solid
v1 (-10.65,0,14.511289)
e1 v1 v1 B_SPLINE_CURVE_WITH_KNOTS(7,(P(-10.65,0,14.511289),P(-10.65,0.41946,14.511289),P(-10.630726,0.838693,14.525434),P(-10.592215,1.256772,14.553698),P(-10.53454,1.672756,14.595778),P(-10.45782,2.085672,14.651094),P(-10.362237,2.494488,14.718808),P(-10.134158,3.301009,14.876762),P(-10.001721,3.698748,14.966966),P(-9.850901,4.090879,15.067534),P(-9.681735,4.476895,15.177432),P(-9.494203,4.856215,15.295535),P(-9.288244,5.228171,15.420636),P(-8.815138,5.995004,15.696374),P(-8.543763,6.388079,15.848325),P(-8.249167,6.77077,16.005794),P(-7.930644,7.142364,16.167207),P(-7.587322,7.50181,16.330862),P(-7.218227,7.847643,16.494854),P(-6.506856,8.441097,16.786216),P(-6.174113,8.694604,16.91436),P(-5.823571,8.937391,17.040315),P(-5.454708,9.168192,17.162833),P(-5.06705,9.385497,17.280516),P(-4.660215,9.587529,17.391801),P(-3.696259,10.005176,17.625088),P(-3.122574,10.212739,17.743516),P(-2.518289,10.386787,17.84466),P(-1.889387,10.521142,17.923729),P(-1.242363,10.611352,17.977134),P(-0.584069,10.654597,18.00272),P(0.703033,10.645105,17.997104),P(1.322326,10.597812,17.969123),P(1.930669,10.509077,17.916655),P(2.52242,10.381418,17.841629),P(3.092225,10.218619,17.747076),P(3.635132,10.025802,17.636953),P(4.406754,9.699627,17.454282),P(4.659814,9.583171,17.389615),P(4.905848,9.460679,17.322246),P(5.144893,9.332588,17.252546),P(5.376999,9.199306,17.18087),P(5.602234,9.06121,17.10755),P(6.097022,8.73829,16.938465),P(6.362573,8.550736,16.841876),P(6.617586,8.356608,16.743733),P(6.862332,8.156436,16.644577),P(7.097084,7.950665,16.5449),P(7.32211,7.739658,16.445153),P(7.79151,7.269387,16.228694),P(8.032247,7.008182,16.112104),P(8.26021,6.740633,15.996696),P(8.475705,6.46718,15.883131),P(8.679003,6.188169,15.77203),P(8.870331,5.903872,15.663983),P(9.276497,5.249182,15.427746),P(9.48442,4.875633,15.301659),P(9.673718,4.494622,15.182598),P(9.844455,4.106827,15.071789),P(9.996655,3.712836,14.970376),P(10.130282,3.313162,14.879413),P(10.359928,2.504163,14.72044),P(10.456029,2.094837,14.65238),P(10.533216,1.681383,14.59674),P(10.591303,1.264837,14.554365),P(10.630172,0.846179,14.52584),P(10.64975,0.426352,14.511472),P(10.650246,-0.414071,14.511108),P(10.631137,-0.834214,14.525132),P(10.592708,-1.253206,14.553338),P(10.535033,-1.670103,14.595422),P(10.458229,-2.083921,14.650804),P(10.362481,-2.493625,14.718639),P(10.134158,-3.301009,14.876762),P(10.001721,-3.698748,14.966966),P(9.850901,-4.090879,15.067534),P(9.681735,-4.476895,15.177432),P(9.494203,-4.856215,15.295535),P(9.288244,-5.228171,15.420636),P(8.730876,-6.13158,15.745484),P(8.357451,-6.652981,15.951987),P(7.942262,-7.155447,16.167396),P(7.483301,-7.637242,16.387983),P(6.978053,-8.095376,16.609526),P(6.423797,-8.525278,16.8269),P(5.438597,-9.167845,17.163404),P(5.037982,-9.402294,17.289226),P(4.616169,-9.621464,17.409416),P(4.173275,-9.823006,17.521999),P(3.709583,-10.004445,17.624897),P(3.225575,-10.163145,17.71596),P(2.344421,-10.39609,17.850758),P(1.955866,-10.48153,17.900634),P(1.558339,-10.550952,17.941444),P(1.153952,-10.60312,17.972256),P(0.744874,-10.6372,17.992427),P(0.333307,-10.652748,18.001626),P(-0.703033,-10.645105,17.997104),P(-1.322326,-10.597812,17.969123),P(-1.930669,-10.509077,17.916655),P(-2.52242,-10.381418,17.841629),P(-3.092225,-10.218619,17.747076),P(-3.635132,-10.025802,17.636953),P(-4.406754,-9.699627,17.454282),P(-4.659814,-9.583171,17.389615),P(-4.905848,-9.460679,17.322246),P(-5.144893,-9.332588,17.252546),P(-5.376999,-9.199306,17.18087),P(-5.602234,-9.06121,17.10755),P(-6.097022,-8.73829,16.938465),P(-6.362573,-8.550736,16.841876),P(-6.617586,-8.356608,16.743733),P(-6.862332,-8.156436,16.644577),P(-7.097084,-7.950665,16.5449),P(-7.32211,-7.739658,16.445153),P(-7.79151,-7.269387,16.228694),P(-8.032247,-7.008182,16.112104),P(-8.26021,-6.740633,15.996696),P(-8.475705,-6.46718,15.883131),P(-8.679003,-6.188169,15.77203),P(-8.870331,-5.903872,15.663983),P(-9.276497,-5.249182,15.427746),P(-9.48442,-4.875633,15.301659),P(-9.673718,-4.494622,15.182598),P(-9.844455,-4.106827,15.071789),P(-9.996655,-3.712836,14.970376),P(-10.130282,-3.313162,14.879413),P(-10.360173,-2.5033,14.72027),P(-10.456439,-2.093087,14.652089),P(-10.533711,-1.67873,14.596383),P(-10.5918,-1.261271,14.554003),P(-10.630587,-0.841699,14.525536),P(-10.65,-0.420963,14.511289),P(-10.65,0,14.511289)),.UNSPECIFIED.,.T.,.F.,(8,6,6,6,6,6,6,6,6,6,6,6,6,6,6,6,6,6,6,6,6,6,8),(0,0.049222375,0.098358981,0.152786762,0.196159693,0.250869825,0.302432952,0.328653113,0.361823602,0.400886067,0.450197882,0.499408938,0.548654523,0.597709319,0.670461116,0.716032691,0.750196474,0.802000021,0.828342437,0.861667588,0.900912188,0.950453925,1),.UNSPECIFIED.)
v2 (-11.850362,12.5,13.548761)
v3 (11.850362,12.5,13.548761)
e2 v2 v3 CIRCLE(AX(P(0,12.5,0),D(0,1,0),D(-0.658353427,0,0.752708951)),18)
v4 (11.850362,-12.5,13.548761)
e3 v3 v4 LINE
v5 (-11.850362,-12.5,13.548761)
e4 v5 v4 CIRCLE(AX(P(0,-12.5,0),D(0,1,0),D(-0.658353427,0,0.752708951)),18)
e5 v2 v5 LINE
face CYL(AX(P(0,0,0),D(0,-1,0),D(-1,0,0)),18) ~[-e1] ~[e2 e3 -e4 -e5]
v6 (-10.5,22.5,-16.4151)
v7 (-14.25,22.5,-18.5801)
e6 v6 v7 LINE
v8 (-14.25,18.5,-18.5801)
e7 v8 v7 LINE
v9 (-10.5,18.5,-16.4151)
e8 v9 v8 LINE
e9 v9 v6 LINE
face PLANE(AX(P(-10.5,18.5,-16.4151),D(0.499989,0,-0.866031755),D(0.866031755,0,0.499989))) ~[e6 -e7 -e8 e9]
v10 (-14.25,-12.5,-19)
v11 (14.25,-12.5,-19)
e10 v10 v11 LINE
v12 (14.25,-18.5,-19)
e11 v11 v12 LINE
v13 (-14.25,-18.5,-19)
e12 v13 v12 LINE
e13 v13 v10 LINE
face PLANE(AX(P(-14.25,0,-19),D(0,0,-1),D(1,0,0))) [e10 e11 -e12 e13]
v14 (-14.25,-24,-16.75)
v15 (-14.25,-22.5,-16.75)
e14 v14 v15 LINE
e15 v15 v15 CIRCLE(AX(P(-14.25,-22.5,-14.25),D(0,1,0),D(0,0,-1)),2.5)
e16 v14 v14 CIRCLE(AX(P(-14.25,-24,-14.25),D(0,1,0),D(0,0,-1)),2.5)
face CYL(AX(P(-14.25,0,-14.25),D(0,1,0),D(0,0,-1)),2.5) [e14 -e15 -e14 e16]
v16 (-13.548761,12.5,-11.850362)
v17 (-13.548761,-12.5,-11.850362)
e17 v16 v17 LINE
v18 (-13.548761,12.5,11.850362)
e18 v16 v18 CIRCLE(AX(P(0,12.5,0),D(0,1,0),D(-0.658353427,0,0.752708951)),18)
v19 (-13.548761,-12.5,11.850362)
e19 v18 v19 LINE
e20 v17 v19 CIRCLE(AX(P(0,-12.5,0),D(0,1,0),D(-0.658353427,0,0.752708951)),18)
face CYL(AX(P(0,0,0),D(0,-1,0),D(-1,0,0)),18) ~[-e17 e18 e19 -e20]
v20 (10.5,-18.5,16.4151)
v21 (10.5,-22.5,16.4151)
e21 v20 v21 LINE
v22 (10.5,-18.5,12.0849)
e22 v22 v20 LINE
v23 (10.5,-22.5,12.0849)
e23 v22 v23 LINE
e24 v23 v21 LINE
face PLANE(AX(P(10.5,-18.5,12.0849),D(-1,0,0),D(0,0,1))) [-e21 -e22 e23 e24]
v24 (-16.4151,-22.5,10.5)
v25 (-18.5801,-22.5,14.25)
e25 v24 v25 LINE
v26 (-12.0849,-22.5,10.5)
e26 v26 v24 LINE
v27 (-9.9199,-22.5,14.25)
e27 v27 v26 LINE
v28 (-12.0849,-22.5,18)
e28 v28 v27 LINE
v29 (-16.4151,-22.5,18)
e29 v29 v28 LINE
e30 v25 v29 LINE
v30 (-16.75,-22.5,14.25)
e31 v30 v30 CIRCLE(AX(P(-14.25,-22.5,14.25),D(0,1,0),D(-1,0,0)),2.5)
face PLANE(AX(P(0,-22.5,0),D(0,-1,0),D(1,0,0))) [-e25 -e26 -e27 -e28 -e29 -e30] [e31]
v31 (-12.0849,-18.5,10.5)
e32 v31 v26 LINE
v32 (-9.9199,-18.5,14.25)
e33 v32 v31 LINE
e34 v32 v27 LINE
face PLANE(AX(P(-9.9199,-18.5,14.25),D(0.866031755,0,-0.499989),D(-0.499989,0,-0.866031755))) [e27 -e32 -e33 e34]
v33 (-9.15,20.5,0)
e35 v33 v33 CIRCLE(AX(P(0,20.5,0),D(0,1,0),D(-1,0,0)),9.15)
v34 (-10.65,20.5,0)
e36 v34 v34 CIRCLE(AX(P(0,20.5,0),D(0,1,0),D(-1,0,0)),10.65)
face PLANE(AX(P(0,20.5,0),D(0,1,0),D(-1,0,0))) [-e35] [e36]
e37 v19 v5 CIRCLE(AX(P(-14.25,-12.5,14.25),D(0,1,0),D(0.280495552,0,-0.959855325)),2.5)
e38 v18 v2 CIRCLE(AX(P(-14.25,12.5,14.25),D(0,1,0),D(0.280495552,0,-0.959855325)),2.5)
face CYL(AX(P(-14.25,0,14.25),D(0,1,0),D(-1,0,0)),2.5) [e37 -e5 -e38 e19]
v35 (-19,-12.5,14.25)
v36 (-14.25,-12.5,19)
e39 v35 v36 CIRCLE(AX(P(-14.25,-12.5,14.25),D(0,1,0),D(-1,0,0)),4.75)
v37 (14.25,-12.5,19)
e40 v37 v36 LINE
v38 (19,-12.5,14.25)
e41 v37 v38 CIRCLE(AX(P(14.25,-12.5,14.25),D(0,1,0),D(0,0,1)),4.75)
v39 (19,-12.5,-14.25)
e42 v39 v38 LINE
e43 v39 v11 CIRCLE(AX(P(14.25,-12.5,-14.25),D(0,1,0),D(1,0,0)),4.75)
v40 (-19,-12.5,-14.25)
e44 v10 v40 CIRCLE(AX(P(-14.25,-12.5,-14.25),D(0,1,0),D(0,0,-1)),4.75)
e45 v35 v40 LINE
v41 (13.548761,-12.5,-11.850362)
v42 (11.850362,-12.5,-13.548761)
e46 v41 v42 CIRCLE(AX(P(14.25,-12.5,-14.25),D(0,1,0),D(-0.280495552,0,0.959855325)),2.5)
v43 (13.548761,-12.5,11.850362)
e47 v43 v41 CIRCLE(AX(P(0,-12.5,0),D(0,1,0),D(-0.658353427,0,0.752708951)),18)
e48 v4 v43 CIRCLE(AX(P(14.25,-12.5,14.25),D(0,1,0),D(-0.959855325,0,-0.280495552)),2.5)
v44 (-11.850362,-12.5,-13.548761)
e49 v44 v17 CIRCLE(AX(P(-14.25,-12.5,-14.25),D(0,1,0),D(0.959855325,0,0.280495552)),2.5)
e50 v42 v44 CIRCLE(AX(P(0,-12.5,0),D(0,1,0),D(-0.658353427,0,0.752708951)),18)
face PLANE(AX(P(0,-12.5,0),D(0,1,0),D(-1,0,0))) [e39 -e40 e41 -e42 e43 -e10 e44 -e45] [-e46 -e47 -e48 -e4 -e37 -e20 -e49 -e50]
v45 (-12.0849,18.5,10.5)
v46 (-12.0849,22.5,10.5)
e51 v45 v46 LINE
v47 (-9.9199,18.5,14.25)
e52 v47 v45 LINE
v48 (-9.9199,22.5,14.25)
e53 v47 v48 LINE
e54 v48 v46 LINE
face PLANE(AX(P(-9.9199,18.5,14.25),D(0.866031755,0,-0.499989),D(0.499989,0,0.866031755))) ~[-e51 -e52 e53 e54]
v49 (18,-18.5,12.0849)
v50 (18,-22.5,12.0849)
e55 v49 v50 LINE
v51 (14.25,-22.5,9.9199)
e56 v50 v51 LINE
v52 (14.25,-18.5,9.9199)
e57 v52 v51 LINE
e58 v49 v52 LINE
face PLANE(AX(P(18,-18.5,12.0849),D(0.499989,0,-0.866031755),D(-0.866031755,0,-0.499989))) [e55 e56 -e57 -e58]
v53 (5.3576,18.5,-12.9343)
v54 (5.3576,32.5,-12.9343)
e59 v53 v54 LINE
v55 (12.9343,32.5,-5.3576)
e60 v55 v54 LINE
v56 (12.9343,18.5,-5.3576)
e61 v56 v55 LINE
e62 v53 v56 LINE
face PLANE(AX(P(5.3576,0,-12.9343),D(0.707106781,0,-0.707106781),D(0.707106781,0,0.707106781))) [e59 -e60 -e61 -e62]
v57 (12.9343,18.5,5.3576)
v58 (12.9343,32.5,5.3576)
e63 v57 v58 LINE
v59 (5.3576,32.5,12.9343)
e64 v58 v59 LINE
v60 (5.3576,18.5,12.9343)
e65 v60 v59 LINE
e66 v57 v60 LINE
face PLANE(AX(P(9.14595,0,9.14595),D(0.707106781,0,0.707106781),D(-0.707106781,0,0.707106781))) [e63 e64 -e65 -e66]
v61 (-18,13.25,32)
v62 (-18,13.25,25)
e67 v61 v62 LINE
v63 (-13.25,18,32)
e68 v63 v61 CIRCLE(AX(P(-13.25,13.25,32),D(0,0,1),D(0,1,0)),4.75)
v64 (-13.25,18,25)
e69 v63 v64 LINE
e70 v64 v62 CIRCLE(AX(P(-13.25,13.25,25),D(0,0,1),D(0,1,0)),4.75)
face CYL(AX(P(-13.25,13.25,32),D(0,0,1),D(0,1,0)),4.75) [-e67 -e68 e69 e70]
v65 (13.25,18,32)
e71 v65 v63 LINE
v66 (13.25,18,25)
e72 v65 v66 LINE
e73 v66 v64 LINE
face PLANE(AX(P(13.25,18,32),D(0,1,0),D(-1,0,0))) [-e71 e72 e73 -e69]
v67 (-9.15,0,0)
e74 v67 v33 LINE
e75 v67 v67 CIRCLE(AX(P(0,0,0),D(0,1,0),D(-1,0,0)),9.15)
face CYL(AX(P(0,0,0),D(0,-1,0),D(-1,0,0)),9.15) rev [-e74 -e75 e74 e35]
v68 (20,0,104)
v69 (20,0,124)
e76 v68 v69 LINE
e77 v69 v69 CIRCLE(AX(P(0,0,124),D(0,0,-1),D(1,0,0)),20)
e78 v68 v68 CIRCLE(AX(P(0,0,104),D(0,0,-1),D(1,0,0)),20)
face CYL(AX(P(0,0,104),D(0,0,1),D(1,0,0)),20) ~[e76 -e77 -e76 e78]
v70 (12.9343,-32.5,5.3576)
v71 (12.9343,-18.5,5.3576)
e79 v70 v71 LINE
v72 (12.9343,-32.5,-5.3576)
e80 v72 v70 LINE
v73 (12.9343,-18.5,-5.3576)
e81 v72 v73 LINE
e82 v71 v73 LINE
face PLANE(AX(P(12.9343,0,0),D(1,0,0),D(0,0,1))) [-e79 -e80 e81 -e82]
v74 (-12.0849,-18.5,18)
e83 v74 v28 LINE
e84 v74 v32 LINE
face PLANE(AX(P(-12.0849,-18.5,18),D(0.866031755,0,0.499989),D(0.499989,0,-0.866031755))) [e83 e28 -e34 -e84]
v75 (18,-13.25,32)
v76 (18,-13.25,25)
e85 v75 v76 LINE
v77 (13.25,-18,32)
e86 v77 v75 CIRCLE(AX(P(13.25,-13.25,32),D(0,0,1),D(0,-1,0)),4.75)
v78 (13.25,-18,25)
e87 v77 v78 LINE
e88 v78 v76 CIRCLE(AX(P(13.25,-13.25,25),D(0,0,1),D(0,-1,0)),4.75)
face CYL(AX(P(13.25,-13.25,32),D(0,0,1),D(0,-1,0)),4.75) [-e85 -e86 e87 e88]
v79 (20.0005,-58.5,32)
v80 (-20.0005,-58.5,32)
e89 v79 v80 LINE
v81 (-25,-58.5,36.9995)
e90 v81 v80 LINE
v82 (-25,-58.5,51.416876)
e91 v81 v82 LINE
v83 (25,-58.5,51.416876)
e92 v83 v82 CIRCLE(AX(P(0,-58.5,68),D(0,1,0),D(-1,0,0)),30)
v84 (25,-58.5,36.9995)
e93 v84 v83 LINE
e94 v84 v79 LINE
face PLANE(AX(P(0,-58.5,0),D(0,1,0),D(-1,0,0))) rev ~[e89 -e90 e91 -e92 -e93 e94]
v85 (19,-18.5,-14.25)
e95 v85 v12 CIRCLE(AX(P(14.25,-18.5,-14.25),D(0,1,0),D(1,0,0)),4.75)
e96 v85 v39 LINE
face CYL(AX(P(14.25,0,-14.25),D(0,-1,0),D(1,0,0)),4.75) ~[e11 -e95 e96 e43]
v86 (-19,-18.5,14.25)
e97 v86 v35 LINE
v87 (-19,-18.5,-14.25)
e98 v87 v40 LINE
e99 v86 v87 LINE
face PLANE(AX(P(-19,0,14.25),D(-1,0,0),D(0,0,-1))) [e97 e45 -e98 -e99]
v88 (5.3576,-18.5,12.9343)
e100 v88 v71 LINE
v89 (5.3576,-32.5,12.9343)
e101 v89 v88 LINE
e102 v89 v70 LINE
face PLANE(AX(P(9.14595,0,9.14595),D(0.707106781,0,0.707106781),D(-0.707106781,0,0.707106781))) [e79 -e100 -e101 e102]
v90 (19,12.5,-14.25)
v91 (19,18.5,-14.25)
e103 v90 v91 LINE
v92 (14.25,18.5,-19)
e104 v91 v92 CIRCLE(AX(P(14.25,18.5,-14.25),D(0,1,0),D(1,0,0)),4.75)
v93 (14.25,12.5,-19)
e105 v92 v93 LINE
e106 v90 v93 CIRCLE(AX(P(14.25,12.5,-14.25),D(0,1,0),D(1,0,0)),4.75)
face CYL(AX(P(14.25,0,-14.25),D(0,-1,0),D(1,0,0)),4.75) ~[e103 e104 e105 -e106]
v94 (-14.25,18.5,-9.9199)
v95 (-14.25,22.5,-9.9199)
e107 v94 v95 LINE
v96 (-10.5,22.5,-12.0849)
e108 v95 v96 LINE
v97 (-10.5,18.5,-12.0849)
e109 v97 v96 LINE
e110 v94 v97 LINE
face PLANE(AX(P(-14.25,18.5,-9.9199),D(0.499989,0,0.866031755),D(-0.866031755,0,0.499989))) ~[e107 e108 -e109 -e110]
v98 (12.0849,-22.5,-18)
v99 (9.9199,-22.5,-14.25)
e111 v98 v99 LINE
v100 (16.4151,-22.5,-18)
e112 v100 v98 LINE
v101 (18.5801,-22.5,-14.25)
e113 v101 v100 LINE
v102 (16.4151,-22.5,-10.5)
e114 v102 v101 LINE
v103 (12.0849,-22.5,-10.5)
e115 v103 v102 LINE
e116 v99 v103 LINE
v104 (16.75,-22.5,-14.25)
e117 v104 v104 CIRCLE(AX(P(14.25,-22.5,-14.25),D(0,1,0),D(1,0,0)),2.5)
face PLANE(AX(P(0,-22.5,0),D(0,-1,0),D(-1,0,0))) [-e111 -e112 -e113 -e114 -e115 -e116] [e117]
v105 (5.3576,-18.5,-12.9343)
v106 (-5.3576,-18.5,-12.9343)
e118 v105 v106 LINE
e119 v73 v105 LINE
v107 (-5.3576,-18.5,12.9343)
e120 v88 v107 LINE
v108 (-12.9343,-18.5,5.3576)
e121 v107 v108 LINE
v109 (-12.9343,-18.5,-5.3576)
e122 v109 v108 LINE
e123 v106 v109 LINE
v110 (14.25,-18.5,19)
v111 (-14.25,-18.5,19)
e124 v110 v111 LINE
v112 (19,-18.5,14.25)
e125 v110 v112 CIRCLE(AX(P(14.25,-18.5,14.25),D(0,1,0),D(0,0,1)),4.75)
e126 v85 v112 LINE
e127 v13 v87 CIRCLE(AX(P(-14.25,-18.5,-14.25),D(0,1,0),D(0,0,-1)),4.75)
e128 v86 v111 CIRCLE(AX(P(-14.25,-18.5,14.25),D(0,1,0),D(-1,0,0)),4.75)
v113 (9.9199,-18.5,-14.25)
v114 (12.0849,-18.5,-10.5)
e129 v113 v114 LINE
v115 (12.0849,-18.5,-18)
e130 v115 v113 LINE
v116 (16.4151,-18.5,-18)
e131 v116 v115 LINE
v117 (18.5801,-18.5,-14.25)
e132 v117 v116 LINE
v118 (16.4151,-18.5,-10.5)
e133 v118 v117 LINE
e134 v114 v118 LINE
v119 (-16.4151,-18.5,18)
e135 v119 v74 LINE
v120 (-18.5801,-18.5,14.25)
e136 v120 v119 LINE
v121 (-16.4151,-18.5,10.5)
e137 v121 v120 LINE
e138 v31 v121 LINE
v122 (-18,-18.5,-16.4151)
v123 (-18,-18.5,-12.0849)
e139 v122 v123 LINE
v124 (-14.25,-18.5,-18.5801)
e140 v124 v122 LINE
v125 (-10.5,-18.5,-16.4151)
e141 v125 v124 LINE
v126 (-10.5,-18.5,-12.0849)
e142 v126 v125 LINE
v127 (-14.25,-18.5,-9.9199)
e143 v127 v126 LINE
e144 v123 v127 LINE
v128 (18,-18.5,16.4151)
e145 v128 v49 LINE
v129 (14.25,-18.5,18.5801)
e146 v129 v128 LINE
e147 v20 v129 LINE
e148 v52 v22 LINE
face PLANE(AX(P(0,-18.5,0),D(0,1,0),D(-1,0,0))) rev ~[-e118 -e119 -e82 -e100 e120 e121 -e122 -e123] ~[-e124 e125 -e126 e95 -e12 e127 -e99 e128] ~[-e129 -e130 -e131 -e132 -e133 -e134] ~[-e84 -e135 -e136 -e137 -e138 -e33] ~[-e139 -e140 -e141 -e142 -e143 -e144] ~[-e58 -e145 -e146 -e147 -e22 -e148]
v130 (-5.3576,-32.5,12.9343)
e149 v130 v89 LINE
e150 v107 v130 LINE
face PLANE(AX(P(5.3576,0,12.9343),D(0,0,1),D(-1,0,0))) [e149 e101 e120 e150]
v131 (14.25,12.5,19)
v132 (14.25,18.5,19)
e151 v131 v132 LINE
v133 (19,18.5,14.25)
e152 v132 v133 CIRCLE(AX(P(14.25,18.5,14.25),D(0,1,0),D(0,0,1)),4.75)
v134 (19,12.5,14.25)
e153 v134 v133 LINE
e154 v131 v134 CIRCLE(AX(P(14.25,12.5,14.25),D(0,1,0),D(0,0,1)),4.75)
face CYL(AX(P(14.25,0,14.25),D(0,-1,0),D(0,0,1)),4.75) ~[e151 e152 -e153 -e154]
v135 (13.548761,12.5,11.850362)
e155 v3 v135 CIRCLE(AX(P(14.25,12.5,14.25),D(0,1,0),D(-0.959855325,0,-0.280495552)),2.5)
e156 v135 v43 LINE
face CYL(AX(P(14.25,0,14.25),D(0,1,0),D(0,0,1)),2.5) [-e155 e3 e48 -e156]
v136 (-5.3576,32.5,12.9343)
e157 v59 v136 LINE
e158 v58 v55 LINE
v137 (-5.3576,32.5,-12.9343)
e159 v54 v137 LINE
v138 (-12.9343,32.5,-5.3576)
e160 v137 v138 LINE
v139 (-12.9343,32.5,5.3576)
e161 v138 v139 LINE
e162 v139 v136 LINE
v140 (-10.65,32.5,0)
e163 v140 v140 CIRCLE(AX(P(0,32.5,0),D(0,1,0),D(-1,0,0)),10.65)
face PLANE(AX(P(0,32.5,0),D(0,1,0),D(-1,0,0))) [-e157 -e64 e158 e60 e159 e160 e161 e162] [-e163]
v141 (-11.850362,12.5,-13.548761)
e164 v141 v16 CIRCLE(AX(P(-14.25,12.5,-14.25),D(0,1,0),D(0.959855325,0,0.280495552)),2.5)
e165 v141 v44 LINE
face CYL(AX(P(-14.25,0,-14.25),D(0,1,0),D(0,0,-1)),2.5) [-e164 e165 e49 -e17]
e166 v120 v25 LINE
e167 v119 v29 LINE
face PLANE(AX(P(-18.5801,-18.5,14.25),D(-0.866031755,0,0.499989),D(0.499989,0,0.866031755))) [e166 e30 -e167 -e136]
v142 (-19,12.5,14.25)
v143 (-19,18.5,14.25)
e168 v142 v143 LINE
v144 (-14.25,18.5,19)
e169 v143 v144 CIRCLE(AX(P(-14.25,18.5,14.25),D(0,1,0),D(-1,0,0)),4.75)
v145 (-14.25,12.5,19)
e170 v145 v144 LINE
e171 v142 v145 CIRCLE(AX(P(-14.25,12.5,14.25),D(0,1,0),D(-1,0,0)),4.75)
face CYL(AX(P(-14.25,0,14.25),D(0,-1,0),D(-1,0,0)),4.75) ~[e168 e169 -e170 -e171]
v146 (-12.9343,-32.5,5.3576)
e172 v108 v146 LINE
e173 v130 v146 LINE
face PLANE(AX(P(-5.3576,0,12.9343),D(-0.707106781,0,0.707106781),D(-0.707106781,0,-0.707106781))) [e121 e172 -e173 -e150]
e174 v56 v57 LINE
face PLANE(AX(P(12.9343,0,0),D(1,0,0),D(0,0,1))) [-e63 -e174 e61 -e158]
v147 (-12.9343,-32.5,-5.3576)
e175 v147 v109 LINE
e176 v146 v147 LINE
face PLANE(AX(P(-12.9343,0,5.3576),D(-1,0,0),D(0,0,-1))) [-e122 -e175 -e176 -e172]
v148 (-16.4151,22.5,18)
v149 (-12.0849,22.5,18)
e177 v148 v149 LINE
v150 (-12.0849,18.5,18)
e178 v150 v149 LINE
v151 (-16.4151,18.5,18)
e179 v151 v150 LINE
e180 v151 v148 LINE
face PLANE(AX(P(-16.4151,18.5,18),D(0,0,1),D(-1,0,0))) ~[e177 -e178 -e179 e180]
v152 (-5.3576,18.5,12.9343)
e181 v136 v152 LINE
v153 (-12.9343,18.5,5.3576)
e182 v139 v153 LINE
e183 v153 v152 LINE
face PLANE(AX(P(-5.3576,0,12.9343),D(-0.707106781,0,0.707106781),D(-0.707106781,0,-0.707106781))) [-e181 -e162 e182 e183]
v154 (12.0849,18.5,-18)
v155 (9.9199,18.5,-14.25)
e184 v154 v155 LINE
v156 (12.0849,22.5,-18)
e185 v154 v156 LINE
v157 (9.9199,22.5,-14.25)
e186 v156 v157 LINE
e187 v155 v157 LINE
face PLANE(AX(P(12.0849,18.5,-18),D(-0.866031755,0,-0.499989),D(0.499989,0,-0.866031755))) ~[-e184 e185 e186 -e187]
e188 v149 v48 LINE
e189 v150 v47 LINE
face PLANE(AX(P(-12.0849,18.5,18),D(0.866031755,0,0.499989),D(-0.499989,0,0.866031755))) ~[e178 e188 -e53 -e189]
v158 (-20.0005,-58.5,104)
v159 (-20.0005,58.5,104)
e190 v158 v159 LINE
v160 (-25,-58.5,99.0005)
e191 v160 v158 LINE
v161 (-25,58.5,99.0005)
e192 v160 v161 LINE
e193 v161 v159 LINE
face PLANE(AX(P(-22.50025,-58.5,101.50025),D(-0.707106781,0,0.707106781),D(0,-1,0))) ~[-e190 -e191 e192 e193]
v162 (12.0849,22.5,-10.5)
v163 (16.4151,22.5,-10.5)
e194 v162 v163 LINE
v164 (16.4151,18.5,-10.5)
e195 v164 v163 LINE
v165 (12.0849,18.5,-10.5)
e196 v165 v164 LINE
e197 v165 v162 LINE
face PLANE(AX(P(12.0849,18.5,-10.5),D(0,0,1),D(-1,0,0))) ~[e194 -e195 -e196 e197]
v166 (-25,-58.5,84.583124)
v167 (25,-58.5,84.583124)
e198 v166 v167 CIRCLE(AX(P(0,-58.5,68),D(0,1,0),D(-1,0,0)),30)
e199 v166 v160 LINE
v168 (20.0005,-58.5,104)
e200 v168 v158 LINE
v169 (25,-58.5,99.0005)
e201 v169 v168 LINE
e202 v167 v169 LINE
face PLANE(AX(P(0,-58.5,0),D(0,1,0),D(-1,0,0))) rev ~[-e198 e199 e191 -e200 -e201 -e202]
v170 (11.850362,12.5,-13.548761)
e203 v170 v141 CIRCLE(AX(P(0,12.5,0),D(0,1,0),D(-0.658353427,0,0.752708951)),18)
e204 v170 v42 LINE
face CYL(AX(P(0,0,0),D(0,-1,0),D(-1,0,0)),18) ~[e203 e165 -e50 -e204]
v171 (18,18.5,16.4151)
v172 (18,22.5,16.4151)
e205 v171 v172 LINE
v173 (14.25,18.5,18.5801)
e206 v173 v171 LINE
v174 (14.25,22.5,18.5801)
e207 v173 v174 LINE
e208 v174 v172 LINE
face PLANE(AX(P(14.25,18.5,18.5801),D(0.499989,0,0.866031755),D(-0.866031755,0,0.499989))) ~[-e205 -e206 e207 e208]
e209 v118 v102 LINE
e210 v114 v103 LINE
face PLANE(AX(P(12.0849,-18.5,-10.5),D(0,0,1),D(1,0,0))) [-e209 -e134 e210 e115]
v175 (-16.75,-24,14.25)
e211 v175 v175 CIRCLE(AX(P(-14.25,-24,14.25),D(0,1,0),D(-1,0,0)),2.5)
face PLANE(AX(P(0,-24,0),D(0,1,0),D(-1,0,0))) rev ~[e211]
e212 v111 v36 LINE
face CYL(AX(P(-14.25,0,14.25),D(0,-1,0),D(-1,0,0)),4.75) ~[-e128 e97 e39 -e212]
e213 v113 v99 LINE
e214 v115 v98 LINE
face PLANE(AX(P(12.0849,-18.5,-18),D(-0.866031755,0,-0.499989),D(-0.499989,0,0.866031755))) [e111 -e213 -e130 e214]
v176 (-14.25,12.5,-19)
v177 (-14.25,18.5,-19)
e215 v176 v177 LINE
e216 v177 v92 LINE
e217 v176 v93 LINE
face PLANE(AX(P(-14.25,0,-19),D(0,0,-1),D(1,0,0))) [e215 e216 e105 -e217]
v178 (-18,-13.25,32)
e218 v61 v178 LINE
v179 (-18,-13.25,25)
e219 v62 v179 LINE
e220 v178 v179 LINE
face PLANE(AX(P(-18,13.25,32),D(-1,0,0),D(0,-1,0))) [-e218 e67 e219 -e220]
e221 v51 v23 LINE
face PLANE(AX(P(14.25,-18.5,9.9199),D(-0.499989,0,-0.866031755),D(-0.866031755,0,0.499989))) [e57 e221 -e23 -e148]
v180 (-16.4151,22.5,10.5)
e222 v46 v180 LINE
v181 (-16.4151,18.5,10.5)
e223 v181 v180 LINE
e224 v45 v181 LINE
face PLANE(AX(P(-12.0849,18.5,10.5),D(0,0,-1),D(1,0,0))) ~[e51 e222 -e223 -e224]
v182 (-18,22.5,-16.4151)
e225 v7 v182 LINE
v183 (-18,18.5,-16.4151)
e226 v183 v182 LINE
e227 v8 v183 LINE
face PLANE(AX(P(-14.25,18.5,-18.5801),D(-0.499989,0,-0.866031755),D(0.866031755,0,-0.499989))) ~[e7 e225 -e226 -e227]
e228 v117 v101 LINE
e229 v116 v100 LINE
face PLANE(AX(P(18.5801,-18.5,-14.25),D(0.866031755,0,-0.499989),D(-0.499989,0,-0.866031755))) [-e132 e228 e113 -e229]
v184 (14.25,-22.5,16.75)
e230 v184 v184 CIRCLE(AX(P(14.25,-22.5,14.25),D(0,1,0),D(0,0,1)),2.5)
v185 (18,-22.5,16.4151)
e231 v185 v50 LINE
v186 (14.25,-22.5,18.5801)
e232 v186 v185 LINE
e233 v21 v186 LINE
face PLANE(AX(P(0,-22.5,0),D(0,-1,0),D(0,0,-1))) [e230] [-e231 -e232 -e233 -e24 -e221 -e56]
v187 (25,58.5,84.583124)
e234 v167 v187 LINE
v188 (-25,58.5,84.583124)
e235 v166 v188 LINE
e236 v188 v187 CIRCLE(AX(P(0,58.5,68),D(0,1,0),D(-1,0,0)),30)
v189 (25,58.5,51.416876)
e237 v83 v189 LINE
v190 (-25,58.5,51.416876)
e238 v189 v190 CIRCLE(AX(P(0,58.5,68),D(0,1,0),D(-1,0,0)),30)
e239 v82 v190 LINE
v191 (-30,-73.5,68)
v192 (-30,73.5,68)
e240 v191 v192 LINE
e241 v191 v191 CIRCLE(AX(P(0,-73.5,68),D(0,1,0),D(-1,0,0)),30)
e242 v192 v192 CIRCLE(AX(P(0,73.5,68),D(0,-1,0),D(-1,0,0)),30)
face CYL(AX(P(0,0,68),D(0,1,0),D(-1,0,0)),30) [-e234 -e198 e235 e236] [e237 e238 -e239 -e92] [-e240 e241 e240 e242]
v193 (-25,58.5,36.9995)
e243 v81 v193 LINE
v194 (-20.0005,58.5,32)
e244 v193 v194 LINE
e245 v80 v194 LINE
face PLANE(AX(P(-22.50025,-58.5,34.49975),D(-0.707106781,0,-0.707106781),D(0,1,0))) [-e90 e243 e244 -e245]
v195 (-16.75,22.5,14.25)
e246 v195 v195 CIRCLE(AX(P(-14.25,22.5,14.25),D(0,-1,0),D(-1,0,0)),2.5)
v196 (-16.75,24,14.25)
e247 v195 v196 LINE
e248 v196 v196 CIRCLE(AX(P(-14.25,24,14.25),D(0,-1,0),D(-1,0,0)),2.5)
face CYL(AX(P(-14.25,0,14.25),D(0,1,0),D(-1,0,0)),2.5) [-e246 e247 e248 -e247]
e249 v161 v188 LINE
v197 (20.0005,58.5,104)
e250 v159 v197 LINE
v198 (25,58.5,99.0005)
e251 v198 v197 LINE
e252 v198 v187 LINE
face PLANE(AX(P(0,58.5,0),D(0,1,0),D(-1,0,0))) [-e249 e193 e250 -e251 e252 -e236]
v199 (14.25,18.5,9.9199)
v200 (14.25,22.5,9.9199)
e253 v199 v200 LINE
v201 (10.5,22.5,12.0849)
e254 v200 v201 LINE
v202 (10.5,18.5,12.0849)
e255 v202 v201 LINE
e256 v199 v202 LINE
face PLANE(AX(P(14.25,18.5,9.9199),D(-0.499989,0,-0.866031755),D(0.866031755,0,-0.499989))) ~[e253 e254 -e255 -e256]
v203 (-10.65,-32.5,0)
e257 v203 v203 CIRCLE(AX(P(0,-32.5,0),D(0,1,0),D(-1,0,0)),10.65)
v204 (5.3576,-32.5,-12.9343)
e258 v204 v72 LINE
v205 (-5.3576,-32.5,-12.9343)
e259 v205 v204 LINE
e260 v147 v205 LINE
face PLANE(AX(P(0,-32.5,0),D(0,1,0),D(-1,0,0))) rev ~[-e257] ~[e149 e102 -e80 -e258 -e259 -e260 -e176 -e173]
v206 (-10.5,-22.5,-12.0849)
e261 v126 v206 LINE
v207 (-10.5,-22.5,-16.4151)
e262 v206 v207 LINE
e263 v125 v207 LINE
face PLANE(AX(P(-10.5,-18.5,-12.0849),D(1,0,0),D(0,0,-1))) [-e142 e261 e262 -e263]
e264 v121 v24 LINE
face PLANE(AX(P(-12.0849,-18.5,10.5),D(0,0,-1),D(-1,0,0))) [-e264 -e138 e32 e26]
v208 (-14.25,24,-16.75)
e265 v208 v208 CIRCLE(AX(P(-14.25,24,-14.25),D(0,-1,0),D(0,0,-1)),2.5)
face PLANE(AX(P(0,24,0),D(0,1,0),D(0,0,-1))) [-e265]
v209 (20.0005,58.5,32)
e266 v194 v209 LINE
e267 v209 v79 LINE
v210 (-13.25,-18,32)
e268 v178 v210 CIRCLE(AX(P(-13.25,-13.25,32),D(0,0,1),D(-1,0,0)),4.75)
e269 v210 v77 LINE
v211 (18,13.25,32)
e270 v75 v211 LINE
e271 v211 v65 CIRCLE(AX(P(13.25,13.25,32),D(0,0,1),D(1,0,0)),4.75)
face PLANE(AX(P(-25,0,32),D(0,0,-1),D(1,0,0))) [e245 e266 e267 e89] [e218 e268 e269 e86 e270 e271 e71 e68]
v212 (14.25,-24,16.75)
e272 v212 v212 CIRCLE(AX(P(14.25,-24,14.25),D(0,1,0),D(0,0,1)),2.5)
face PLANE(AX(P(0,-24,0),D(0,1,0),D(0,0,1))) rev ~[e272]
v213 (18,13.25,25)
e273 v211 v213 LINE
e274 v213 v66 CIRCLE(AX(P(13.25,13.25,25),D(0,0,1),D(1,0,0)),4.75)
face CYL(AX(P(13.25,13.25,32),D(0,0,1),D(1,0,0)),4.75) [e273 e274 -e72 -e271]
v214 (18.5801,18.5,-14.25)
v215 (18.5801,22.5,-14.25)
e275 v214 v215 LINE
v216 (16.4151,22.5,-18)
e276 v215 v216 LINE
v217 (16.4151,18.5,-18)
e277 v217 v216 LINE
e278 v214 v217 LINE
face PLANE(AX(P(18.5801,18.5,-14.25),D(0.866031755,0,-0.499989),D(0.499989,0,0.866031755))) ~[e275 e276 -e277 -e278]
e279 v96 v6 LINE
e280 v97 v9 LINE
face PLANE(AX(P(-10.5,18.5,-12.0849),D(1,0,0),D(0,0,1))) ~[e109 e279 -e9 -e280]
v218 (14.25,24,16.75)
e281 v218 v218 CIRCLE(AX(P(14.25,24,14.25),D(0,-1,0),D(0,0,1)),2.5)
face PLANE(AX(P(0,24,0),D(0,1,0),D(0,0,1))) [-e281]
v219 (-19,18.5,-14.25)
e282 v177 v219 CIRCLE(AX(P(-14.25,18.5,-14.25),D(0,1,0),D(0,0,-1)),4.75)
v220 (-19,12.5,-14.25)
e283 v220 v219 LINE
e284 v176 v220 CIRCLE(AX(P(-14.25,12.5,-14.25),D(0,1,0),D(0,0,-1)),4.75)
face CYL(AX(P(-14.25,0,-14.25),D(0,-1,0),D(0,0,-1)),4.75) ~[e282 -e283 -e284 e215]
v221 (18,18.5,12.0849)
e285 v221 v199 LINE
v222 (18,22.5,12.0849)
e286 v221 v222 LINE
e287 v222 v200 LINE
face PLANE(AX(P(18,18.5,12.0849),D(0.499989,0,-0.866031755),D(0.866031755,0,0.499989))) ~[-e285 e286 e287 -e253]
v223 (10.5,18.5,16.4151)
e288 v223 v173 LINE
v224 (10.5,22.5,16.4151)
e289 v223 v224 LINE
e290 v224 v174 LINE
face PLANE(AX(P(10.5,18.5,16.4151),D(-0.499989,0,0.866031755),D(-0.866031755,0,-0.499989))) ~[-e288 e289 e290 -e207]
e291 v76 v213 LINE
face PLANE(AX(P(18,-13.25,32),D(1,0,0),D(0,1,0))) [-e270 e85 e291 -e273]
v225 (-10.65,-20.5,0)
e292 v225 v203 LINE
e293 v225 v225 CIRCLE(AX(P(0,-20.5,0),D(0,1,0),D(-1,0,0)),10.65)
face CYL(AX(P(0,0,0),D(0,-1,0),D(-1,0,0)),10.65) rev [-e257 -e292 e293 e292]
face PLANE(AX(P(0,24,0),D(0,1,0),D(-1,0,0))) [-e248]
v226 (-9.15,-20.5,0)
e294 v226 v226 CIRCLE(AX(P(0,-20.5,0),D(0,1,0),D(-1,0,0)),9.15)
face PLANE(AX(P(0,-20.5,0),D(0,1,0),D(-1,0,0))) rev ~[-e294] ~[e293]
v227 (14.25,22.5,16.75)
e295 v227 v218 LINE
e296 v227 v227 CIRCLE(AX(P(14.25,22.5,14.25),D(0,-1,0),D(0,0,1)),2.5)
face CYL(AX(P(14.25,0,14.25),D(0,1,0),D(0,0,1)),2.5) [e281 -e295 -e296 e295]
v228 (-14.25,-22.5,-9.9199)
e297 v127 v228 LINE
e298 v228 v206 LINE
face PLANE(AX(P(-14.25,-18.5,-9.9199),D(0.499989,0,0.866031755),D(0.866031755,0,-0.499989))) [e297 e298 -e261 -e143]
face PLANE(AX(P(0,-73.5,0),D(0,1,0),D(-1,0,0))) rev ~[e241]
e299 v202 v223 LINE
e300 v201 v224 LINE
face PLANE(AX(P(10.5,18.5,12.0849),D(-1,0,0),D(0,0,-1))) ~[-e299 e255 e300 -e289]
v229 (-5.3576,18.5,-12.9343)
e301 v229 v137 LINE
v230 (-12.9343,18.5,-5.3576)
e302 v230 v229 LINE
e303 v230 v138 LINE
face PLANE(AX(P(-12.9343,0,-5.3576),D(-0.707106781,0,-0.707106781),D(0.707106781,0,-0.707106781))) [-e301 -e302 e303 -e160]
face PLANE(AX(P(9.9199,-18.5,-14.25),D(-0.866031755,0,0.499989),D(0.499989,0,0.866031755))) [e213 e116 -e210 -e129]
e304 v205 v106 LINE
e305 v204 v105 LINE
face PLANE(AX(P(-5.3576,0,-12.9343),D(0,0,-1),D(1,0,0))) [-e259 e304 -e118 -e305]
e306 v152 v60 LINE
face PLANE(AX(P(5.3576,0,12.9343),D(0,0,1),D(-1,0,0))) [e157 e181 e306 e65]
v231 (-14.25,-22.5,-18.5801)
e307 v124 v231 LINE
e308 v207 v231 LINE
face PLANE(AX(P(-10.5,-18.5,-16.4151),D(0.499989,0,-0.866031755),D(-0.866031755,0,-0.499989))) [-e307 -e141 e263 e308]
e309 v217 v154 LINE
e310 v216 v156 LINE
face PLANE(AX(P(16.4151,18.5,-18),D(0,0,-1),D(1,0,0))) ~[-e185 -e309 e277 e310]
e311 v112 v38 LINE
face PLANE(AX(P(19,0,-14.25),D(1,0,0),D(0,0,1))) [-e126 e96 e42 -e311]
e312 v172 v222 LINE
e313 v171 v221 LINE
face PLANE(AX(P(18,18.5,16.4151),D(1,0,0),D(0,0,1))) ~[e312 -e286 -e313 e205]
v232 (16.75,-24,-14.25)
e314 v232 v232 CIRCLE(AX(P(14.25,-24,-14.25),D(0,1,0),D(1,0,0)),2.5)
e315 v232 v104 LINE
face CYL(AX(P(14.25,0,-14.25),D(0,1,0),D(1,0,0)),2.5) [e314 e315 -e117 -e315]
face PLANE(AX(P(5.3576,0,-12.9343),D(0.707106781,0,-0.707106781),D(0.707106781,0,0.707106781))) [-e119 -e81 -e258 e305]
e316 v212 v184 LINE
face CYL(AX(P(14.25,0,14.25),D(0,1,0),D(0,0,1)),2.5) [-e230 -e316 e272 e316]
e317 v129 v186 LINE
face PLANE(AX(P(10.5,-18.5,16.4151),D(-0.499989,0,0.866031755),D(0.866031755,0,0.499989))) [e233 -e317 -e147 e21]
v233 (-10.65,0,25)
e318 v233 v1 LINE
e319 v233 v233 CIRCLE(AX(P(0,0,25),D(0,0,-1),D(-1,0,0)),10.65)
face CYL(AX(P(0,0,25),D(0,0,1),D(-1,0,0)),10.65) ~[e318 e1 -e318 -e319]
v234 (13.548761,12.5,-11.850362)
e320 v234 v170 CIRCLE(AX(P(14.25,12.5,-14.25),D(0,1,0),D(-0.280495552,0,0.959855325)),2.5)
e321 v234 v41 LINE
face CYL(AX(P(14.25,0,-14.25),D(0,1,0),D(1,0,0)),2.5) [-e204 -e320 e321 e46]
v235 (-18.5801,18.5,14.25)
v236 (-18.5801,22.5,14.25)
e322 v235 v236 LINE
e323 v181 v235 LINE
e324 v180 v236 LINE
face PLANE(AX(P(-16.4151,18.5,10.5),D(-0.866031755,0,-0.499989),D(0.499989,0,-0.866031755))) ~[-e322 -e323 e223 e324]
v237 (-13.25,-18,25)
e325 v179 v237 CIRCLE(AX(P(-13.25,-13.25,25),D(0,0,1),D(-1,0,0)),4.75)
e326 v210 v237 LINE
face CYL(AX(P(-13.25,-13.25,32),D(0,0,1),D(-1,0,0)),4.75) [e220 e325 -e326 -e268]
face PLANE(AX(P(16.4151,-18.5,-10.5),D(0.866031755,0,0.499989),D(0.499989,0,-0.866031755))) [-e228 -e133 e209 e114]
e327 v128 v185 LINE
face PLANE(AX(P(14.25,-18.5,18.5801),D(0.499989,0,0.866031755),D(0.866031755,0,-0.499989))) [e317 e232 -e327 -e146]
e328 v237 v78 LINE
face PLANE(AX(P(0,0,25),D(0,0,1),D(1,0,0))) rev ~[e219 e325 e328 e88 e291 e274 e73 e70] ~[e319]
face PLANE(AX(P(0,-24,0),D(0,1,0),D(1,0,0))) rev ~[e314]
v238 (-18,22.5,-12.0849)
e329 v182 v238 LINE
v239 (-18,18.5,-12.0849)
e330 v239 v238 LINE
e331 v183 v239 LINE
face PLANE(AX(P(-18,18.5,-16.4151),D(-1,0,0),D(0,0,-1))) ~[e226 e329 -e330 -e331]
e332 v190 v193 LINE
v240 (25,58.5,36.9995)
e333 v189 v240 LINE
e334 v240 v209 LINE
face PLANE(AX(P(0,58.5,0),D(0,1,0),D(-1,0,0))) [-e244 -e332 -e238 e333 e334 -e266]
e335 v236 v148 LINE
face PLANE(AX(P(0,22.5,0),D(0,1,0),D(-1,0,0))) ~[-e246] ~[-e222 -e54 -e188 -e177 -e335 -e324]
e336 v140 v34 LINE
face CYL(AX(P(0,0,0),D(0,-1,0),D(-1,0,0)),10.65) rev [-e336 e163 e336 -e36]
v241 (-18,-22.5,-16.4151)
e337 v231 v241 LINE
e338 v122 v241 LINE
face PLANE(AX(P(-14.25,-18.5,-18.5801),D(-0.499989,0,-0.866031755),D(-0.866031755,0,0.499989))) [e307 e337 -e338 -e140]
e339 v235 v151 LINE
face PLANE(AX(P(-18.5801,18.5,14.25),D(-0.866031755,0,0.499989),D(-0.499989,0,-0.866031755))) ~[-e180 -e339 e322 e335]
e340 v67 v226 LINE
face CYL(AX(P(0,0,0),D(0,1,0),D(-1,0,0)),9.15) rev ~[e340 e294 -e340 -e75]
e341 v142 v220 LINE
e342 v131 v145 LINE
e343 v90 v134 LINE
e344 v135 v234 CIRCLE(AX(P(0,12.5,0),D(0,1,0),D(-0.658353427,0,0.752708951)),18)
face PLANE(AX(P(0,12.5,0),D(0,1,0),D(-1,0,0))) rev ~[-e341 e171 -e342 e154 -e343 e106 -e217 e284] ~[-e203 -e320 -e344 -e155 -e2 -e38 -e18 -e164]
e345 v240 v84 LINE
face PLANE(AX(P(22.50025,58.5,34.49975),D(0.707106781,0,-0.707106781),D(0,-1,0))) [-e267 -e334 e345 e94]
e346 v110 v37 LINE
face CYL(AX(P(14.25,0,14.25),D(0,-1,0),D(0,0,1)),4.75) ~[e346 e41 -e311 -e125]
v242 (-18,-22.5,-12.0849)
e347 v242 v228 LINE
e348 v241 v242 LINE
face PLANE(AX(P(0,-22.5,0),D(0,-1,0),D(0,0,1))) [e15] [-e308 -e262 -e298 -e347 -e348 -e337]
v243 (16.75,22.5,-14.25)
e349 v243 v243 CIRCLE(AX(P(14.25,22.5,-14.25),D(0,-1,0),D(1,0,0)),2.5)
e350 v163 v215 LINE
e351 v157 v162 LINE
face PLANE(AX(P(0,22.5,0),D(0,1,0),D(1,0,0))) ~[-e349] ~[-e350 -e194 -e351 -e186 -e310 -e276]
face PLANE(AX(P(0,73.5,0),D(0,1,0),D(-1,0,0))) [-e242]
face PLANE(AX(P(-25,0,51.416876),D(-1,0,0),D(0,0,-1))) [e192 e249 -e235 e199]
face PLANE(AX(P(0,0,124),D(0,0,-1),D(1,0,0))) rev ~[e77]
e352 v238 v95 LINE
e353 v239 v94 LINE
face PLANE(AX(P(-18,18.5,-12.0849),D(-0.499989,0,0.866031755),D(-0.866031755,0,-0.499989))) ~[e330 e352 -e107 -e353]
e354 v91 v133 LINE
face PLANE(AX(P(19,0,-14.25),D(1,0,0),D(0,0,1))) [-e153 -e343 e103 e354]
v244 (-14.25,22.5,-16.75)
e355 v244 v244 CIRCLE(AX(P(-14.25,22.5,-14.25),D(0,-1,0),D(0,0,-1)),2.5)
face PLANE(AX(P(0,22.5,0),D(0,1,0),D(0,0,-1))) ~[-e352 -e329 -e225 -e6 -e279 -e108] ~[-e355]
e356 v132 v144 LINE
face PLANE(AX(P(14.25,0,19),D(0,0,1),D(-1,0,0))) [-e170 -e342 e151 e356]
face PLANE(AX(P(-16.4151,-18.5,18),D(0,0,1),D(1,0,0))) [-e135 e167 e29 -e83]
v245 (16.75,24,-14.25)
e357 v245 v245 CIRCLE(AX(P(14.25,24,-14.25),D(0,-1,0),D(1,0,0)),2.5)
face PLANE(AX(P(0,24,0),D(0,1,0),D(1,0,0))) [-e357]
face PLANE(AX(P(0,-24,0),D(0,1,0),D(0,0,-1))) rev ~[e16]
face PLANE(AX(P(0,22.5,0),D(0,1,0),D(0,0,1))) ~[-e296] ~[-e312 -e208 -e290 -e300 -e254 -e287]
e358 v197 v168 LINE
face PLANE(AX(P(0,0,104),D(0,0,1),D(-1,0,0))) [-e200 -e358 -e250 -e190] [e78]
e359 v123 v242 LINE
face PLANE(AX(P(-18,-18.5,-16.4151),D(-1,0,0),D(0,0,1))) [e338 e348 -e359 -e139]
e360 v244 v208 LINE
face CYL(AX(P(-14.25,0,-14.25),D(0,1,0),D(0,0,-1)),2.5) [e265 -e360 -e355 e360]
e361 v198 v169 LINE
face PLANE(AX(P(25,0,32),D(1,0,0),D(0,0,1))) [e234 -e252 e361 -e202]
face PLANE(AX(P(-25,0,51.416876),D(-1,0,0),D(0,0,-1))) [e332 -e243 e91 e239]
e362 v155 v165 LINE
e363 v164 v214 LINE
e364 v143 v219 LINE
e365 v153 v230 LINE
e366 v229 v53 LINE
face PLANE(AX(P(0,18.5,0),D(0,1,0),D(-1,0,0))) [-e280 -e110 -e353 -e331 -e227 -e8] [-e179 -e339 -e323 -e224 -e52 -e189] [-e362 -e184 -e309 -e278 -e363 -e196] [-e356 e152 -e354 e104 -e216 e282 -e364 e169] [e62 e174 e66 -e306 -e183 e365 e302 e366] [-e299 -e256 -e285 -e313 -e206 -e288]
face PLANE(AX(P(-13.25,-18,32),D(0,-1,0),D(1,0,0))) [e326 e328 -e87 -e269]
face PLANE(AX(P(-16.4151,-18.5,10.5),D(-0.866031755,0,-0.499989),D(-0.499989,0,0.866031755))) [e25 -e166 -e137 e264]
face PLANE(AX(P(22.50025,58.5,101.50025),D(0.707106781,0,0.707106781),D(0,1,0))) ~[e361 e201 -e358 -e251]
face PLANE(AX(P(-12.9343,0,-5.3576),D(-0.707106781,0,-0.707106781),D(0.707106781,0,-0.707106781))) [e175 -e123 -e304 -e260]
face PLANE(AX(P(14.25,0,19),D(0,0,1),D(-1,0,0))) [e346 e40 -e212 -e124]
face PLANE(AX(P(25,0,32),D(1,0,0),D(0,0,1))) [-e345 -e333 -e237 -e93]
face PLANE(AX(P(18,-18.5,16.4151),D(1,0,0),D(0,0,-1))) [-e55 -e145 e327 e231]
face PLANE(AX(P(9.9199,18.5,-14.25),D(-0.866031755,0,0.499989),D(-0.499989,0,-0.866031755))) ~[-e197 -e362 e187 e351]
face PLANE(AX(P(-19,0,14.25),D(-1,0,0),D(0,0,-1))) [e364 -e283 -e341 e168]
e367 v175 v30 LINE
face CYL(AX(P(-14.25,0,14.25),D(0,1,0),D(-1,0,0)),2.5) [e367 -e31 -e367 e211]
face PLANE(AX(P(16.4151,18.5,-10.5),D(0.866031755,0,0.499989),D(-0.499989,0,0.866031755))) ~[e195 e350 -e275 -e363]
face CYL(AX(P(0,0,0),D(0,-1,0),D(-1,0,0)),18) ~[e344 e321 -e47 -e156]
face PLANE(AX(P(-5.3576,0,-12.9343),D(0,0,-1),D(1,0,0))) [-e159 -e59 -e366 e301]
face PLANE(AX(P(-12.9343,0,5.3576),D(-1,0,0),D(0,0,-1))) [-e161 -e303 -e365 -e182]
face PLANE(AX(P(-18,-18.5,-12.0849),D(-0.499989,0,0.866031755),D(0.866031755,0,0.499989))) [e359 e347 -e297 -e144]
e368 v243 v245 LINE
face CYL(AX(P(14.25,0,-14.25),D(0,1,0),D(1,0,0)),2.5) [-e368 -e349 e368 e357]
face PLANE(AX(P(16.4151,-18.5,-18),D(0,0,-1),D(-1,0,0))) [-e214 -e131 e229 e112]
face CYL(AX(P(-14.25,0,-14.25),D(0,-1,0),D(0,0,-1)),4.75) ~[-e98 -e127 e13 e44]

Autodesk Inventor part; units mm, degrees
ref_plane "YZ Plane" through (0, 0, 0) normal (1, 0, 0) x (0, 1, 0)
ref_plane "XZ Plane" through (0, 0, 0) normal (0, 1, 0) x (-1, 0, 0)
sketch "Sketch3" plane through (0, 0, 0) normal (0, 1, 0) x (-1, 0, 0)
  line L0 (-5.3576, 12.9343) -> (5.3576, 12.9343)
  line L1 (5.3576, 12.9343) -> (12.9343, 5.3576)
  line L2 (12.9343, 5.3576) -> (12.9343, -5.3576)
  line L3 (12.9343, -5.3576) -> (5.3576, -12.9343)
  line L4 (5.3576, -12.9343) -> (-5.3576, -12.9343)
  line L5 (-5.3576, -12.9343) -> (-12.9343, -5.3576)
  line L6 (-12.9343, -5.3576) -> (-12.9343, 5.3576)
  line L7 (-12.9343, 5.3576) -> (-5.3576, 12.9343)
  circle A0 centre (0, 0) radius 14
  line L8 (14.25, -19) -> (-14.25, -19)
  line L9 (-19, -14.25) -> (-19, 14.25)
  line L10 (-14.25, 19) -> (14.25, 19)
  line L11 (19, 14.25) -> (19, -14.25)
  line L12 (19, -19) -> (-19, 19) construction
  line L13 (-19, -19) -> (19, 19) construction
  circle A1 centre (0, 0) radius 12.9343
  arc A2 (19, 14.25) -> (14.25, 19) centre (14.25, 14.25) ccw
  arc A3 (-14.25, 19) -> (-19, 14.25) centre (-14.25, 14.25) ccw
  arc A4 (-19, -14.25) -> (-14.25, -19) centre (-14.25, -14.25) ccw
  arc A5 (14.25, -19) -> (19, -14.25) centre (14.25, -14.25) ccw
  circle A6 centre (0, 0) radius 10.65
  circle A7 centre (14.25, 14.25) radius 2.5
  circle A8 centre (0, 0) radius 18
  circle A9 centre (0, 0) radius 9.15
  dimension "d72" = 28
  dimension "oFlangeW" = 38
  dimension "d2" = 4.75
  dimension "oIntDia" = 21.3
  dimension "oMbolt" = 5
  dimension "d16" = 4
  dimension "d73" = 1.5
extrude "Extrusion1" add sketch "Sketch3" along normal mid plane 65 contours L0 A1 L7 | L0 L1 A1 | A1 | A1 L6 L7 | L1 L2 A1 | A1 L5 L6 | L2 L3 A1 | A1 L4 L5 | L3 L4 A1
extrude "Extrusion2" add sketch "Sketch3" along normal mid plane 37 contours A0 L0 | L7 A0 | A0 L1 | L6 A0 | A0 L2 | L5 A0 | L4 A0 | A0 L3 | L8 A4 L9 A3 L10 A2 L11 A5 | A7 A8 | A8 A7 | A7 A8
extrude "Extrusion3" cut sketch "Sketch3" along normal mid plane 25 contours L8 A4 L9 A3 L10 A2 L11 A5 | A7 A8 picked at (13.8519, 13.7915)
extrude "Extrusion4" add sketch "Sketch3" along normal mid plane 48 contours A7 A8 | A8 A7 picked at (13.8519, 13.7915) picked at (12.5879, 12.7058)
sketch "Sketch4" plane through (0, -18.5, 0) normal (0, -1, 0) x (1, 0, 0)
  circle A0 centre (-14.25, 14.25) radius 2.5 projected
  line L0 (-12.0849, 10.5) -> (-16.4151, 10.5)
  line L1 (-16.4151, 10.5) -> (-18.5801, 14.25)
  line L2 (-18.5801, 14.25) -> (-16.4151, 18)
  line L3 (-16.4151, 18) -> (-12.0849, 18)
  line L4 (-12.0849, 18) -> (-9.9199, 14.25)
  line L5 (-9.9199, 14.25) -> (-12.0849, 10.5)
  point P0 (0, 0)
  dimension "d13" = 7.5
extrude "Extrusion5" add sketch "Sketch4" along normal blind 4
mirror "Mirror1" about plane through (0, 0, 0) normal (0, 1, 0) of "Extrusion5"
pattern_circular "Circular Pattern1" count 4 over 360 about axis through (0, 0, 0) along (0, 1, 0) of "Extrusion5", "Extrusion4", "Mirror1"
ref_plane "Work Plane1" through (0, 0, 32) normal (0, 0, 1) x (1, 0, 0)
sketch "Sketch5" plane through (0, 0, 32) normal (0, 0, 1) x (1, 0, 0)
  line L0 (-13.25, -18) -> (13.25, -18)
  line L1 (18, -13.25) -> (18, 13.25)
  line L2 (13.25, 18) -> (-13.25, 18)
  line L3 (-18, 13.25) -> (-18, -13.25)
  line L4 (-18, -18) -> (18, 18) construction
  line L5 (18, -18) -> (-18, 18) construction
  arc A0 (-18, -13.25) -> (-13.25, -18) centre (-13.25, -13.25) ccw
  arc A1 (13.25, -18) -> (18, -13.25) centre (13.25, -13.25) ccw
  arc A2 (18, 13.25) -> (13.25, 18) centre (13.25, 13.25) ccw
  arc A3 (-13.25, 18) -> (-18, 13.25) centre (-13.25, 13.25) ccw
  point P0 (0, 0)
  dimension "d21" = 36
  dimension "d22" = 4.75
extrude "Extrusion6" add sketch "Sketch5" against normal blind 7
sketch "Sketch6" plane through (0, 0, 25) normal (0, 0, -1) x (-1, 0, 0)
  circle A0 centre (0, 0) radius 10.65
  dimension "d25" = 21.3
extrude "Extrusion7" add sketch "Sketch6" along normal up to surface
sketch "Sketch11" plane through (0, 0, 0) normal (0, 1, 0) x (-1, 0, 0)
  line L0 (25, 32) -> (-25, 32)
  line L1 (-25, 32) -> (-25, 104)
  line L2 (-25, 104) -> (25, 104)
  line L3 (25, 104) -> (25, 32)
  line L4 (-25, 104) -> (25, 32) construction
  line L5 (25, 104) -> (-25, 32) construction
  circle A0 centre (0, 68) radius 30
  line L6 (0, 104) -> (-20, 104)
  line L7 (-20, 104) -> (-20, 124)
  line L8 (-20, 124) -> (0, 124)
  line L9 (0, 124) -> (0, 104)
  circle A1 centre (0, 0) radius 18 projected
  line L10 (0, 0) -> (0, 68)
  line L11 (-13.25, 32) -> (13.25, 32) projected
  dimension "oCylinderWeight" = 50
  dimension "oCylinderHeight" = 72
  dimension "oCylinderDia" = 60
  dimension "d62" = 20
  dimension "d63" = 20
extrude "Extrusion12" add sketch "Sketch11" along normal mid plane 147 contours A0 L1 L3 | L3 A0 | L1 A0
extrude "Extrusion13" add sketch "Sketch11" along normal mid plane 117 contours L0 L10 A0 L3 | A0 L1 L3 | L0 L1 A0 L10 | A0 L1 L2 L3
revolve "Revolution1" add sketch "Sketch11" angle 360 about axis through (0, 0, 124) along (0, 0, -1) contours L2 L7 L8 L9
chamfer "Chamfer3" distance 5 angle 45 4 edges at (25, 0, 104) (-25, 0, 104) (-25, 0, 32) (25, 0, 32)
extrude "Extrusion14" add sketch "Sketch3" along normal mid plane 41 contours A6
equation "\"d2\" = 0.125 * oFlangeW"
equation "\"d13\" = 1.5 * oMbolt"
equation "\"d14\" = 0.8 * oMbolt"
equation "\"d22\" = d2"
equation "\"d25\" = oIntDia"
properties part number "PNEUMATIC THREADED BALL VALVE DN15 S235" material "S235"
